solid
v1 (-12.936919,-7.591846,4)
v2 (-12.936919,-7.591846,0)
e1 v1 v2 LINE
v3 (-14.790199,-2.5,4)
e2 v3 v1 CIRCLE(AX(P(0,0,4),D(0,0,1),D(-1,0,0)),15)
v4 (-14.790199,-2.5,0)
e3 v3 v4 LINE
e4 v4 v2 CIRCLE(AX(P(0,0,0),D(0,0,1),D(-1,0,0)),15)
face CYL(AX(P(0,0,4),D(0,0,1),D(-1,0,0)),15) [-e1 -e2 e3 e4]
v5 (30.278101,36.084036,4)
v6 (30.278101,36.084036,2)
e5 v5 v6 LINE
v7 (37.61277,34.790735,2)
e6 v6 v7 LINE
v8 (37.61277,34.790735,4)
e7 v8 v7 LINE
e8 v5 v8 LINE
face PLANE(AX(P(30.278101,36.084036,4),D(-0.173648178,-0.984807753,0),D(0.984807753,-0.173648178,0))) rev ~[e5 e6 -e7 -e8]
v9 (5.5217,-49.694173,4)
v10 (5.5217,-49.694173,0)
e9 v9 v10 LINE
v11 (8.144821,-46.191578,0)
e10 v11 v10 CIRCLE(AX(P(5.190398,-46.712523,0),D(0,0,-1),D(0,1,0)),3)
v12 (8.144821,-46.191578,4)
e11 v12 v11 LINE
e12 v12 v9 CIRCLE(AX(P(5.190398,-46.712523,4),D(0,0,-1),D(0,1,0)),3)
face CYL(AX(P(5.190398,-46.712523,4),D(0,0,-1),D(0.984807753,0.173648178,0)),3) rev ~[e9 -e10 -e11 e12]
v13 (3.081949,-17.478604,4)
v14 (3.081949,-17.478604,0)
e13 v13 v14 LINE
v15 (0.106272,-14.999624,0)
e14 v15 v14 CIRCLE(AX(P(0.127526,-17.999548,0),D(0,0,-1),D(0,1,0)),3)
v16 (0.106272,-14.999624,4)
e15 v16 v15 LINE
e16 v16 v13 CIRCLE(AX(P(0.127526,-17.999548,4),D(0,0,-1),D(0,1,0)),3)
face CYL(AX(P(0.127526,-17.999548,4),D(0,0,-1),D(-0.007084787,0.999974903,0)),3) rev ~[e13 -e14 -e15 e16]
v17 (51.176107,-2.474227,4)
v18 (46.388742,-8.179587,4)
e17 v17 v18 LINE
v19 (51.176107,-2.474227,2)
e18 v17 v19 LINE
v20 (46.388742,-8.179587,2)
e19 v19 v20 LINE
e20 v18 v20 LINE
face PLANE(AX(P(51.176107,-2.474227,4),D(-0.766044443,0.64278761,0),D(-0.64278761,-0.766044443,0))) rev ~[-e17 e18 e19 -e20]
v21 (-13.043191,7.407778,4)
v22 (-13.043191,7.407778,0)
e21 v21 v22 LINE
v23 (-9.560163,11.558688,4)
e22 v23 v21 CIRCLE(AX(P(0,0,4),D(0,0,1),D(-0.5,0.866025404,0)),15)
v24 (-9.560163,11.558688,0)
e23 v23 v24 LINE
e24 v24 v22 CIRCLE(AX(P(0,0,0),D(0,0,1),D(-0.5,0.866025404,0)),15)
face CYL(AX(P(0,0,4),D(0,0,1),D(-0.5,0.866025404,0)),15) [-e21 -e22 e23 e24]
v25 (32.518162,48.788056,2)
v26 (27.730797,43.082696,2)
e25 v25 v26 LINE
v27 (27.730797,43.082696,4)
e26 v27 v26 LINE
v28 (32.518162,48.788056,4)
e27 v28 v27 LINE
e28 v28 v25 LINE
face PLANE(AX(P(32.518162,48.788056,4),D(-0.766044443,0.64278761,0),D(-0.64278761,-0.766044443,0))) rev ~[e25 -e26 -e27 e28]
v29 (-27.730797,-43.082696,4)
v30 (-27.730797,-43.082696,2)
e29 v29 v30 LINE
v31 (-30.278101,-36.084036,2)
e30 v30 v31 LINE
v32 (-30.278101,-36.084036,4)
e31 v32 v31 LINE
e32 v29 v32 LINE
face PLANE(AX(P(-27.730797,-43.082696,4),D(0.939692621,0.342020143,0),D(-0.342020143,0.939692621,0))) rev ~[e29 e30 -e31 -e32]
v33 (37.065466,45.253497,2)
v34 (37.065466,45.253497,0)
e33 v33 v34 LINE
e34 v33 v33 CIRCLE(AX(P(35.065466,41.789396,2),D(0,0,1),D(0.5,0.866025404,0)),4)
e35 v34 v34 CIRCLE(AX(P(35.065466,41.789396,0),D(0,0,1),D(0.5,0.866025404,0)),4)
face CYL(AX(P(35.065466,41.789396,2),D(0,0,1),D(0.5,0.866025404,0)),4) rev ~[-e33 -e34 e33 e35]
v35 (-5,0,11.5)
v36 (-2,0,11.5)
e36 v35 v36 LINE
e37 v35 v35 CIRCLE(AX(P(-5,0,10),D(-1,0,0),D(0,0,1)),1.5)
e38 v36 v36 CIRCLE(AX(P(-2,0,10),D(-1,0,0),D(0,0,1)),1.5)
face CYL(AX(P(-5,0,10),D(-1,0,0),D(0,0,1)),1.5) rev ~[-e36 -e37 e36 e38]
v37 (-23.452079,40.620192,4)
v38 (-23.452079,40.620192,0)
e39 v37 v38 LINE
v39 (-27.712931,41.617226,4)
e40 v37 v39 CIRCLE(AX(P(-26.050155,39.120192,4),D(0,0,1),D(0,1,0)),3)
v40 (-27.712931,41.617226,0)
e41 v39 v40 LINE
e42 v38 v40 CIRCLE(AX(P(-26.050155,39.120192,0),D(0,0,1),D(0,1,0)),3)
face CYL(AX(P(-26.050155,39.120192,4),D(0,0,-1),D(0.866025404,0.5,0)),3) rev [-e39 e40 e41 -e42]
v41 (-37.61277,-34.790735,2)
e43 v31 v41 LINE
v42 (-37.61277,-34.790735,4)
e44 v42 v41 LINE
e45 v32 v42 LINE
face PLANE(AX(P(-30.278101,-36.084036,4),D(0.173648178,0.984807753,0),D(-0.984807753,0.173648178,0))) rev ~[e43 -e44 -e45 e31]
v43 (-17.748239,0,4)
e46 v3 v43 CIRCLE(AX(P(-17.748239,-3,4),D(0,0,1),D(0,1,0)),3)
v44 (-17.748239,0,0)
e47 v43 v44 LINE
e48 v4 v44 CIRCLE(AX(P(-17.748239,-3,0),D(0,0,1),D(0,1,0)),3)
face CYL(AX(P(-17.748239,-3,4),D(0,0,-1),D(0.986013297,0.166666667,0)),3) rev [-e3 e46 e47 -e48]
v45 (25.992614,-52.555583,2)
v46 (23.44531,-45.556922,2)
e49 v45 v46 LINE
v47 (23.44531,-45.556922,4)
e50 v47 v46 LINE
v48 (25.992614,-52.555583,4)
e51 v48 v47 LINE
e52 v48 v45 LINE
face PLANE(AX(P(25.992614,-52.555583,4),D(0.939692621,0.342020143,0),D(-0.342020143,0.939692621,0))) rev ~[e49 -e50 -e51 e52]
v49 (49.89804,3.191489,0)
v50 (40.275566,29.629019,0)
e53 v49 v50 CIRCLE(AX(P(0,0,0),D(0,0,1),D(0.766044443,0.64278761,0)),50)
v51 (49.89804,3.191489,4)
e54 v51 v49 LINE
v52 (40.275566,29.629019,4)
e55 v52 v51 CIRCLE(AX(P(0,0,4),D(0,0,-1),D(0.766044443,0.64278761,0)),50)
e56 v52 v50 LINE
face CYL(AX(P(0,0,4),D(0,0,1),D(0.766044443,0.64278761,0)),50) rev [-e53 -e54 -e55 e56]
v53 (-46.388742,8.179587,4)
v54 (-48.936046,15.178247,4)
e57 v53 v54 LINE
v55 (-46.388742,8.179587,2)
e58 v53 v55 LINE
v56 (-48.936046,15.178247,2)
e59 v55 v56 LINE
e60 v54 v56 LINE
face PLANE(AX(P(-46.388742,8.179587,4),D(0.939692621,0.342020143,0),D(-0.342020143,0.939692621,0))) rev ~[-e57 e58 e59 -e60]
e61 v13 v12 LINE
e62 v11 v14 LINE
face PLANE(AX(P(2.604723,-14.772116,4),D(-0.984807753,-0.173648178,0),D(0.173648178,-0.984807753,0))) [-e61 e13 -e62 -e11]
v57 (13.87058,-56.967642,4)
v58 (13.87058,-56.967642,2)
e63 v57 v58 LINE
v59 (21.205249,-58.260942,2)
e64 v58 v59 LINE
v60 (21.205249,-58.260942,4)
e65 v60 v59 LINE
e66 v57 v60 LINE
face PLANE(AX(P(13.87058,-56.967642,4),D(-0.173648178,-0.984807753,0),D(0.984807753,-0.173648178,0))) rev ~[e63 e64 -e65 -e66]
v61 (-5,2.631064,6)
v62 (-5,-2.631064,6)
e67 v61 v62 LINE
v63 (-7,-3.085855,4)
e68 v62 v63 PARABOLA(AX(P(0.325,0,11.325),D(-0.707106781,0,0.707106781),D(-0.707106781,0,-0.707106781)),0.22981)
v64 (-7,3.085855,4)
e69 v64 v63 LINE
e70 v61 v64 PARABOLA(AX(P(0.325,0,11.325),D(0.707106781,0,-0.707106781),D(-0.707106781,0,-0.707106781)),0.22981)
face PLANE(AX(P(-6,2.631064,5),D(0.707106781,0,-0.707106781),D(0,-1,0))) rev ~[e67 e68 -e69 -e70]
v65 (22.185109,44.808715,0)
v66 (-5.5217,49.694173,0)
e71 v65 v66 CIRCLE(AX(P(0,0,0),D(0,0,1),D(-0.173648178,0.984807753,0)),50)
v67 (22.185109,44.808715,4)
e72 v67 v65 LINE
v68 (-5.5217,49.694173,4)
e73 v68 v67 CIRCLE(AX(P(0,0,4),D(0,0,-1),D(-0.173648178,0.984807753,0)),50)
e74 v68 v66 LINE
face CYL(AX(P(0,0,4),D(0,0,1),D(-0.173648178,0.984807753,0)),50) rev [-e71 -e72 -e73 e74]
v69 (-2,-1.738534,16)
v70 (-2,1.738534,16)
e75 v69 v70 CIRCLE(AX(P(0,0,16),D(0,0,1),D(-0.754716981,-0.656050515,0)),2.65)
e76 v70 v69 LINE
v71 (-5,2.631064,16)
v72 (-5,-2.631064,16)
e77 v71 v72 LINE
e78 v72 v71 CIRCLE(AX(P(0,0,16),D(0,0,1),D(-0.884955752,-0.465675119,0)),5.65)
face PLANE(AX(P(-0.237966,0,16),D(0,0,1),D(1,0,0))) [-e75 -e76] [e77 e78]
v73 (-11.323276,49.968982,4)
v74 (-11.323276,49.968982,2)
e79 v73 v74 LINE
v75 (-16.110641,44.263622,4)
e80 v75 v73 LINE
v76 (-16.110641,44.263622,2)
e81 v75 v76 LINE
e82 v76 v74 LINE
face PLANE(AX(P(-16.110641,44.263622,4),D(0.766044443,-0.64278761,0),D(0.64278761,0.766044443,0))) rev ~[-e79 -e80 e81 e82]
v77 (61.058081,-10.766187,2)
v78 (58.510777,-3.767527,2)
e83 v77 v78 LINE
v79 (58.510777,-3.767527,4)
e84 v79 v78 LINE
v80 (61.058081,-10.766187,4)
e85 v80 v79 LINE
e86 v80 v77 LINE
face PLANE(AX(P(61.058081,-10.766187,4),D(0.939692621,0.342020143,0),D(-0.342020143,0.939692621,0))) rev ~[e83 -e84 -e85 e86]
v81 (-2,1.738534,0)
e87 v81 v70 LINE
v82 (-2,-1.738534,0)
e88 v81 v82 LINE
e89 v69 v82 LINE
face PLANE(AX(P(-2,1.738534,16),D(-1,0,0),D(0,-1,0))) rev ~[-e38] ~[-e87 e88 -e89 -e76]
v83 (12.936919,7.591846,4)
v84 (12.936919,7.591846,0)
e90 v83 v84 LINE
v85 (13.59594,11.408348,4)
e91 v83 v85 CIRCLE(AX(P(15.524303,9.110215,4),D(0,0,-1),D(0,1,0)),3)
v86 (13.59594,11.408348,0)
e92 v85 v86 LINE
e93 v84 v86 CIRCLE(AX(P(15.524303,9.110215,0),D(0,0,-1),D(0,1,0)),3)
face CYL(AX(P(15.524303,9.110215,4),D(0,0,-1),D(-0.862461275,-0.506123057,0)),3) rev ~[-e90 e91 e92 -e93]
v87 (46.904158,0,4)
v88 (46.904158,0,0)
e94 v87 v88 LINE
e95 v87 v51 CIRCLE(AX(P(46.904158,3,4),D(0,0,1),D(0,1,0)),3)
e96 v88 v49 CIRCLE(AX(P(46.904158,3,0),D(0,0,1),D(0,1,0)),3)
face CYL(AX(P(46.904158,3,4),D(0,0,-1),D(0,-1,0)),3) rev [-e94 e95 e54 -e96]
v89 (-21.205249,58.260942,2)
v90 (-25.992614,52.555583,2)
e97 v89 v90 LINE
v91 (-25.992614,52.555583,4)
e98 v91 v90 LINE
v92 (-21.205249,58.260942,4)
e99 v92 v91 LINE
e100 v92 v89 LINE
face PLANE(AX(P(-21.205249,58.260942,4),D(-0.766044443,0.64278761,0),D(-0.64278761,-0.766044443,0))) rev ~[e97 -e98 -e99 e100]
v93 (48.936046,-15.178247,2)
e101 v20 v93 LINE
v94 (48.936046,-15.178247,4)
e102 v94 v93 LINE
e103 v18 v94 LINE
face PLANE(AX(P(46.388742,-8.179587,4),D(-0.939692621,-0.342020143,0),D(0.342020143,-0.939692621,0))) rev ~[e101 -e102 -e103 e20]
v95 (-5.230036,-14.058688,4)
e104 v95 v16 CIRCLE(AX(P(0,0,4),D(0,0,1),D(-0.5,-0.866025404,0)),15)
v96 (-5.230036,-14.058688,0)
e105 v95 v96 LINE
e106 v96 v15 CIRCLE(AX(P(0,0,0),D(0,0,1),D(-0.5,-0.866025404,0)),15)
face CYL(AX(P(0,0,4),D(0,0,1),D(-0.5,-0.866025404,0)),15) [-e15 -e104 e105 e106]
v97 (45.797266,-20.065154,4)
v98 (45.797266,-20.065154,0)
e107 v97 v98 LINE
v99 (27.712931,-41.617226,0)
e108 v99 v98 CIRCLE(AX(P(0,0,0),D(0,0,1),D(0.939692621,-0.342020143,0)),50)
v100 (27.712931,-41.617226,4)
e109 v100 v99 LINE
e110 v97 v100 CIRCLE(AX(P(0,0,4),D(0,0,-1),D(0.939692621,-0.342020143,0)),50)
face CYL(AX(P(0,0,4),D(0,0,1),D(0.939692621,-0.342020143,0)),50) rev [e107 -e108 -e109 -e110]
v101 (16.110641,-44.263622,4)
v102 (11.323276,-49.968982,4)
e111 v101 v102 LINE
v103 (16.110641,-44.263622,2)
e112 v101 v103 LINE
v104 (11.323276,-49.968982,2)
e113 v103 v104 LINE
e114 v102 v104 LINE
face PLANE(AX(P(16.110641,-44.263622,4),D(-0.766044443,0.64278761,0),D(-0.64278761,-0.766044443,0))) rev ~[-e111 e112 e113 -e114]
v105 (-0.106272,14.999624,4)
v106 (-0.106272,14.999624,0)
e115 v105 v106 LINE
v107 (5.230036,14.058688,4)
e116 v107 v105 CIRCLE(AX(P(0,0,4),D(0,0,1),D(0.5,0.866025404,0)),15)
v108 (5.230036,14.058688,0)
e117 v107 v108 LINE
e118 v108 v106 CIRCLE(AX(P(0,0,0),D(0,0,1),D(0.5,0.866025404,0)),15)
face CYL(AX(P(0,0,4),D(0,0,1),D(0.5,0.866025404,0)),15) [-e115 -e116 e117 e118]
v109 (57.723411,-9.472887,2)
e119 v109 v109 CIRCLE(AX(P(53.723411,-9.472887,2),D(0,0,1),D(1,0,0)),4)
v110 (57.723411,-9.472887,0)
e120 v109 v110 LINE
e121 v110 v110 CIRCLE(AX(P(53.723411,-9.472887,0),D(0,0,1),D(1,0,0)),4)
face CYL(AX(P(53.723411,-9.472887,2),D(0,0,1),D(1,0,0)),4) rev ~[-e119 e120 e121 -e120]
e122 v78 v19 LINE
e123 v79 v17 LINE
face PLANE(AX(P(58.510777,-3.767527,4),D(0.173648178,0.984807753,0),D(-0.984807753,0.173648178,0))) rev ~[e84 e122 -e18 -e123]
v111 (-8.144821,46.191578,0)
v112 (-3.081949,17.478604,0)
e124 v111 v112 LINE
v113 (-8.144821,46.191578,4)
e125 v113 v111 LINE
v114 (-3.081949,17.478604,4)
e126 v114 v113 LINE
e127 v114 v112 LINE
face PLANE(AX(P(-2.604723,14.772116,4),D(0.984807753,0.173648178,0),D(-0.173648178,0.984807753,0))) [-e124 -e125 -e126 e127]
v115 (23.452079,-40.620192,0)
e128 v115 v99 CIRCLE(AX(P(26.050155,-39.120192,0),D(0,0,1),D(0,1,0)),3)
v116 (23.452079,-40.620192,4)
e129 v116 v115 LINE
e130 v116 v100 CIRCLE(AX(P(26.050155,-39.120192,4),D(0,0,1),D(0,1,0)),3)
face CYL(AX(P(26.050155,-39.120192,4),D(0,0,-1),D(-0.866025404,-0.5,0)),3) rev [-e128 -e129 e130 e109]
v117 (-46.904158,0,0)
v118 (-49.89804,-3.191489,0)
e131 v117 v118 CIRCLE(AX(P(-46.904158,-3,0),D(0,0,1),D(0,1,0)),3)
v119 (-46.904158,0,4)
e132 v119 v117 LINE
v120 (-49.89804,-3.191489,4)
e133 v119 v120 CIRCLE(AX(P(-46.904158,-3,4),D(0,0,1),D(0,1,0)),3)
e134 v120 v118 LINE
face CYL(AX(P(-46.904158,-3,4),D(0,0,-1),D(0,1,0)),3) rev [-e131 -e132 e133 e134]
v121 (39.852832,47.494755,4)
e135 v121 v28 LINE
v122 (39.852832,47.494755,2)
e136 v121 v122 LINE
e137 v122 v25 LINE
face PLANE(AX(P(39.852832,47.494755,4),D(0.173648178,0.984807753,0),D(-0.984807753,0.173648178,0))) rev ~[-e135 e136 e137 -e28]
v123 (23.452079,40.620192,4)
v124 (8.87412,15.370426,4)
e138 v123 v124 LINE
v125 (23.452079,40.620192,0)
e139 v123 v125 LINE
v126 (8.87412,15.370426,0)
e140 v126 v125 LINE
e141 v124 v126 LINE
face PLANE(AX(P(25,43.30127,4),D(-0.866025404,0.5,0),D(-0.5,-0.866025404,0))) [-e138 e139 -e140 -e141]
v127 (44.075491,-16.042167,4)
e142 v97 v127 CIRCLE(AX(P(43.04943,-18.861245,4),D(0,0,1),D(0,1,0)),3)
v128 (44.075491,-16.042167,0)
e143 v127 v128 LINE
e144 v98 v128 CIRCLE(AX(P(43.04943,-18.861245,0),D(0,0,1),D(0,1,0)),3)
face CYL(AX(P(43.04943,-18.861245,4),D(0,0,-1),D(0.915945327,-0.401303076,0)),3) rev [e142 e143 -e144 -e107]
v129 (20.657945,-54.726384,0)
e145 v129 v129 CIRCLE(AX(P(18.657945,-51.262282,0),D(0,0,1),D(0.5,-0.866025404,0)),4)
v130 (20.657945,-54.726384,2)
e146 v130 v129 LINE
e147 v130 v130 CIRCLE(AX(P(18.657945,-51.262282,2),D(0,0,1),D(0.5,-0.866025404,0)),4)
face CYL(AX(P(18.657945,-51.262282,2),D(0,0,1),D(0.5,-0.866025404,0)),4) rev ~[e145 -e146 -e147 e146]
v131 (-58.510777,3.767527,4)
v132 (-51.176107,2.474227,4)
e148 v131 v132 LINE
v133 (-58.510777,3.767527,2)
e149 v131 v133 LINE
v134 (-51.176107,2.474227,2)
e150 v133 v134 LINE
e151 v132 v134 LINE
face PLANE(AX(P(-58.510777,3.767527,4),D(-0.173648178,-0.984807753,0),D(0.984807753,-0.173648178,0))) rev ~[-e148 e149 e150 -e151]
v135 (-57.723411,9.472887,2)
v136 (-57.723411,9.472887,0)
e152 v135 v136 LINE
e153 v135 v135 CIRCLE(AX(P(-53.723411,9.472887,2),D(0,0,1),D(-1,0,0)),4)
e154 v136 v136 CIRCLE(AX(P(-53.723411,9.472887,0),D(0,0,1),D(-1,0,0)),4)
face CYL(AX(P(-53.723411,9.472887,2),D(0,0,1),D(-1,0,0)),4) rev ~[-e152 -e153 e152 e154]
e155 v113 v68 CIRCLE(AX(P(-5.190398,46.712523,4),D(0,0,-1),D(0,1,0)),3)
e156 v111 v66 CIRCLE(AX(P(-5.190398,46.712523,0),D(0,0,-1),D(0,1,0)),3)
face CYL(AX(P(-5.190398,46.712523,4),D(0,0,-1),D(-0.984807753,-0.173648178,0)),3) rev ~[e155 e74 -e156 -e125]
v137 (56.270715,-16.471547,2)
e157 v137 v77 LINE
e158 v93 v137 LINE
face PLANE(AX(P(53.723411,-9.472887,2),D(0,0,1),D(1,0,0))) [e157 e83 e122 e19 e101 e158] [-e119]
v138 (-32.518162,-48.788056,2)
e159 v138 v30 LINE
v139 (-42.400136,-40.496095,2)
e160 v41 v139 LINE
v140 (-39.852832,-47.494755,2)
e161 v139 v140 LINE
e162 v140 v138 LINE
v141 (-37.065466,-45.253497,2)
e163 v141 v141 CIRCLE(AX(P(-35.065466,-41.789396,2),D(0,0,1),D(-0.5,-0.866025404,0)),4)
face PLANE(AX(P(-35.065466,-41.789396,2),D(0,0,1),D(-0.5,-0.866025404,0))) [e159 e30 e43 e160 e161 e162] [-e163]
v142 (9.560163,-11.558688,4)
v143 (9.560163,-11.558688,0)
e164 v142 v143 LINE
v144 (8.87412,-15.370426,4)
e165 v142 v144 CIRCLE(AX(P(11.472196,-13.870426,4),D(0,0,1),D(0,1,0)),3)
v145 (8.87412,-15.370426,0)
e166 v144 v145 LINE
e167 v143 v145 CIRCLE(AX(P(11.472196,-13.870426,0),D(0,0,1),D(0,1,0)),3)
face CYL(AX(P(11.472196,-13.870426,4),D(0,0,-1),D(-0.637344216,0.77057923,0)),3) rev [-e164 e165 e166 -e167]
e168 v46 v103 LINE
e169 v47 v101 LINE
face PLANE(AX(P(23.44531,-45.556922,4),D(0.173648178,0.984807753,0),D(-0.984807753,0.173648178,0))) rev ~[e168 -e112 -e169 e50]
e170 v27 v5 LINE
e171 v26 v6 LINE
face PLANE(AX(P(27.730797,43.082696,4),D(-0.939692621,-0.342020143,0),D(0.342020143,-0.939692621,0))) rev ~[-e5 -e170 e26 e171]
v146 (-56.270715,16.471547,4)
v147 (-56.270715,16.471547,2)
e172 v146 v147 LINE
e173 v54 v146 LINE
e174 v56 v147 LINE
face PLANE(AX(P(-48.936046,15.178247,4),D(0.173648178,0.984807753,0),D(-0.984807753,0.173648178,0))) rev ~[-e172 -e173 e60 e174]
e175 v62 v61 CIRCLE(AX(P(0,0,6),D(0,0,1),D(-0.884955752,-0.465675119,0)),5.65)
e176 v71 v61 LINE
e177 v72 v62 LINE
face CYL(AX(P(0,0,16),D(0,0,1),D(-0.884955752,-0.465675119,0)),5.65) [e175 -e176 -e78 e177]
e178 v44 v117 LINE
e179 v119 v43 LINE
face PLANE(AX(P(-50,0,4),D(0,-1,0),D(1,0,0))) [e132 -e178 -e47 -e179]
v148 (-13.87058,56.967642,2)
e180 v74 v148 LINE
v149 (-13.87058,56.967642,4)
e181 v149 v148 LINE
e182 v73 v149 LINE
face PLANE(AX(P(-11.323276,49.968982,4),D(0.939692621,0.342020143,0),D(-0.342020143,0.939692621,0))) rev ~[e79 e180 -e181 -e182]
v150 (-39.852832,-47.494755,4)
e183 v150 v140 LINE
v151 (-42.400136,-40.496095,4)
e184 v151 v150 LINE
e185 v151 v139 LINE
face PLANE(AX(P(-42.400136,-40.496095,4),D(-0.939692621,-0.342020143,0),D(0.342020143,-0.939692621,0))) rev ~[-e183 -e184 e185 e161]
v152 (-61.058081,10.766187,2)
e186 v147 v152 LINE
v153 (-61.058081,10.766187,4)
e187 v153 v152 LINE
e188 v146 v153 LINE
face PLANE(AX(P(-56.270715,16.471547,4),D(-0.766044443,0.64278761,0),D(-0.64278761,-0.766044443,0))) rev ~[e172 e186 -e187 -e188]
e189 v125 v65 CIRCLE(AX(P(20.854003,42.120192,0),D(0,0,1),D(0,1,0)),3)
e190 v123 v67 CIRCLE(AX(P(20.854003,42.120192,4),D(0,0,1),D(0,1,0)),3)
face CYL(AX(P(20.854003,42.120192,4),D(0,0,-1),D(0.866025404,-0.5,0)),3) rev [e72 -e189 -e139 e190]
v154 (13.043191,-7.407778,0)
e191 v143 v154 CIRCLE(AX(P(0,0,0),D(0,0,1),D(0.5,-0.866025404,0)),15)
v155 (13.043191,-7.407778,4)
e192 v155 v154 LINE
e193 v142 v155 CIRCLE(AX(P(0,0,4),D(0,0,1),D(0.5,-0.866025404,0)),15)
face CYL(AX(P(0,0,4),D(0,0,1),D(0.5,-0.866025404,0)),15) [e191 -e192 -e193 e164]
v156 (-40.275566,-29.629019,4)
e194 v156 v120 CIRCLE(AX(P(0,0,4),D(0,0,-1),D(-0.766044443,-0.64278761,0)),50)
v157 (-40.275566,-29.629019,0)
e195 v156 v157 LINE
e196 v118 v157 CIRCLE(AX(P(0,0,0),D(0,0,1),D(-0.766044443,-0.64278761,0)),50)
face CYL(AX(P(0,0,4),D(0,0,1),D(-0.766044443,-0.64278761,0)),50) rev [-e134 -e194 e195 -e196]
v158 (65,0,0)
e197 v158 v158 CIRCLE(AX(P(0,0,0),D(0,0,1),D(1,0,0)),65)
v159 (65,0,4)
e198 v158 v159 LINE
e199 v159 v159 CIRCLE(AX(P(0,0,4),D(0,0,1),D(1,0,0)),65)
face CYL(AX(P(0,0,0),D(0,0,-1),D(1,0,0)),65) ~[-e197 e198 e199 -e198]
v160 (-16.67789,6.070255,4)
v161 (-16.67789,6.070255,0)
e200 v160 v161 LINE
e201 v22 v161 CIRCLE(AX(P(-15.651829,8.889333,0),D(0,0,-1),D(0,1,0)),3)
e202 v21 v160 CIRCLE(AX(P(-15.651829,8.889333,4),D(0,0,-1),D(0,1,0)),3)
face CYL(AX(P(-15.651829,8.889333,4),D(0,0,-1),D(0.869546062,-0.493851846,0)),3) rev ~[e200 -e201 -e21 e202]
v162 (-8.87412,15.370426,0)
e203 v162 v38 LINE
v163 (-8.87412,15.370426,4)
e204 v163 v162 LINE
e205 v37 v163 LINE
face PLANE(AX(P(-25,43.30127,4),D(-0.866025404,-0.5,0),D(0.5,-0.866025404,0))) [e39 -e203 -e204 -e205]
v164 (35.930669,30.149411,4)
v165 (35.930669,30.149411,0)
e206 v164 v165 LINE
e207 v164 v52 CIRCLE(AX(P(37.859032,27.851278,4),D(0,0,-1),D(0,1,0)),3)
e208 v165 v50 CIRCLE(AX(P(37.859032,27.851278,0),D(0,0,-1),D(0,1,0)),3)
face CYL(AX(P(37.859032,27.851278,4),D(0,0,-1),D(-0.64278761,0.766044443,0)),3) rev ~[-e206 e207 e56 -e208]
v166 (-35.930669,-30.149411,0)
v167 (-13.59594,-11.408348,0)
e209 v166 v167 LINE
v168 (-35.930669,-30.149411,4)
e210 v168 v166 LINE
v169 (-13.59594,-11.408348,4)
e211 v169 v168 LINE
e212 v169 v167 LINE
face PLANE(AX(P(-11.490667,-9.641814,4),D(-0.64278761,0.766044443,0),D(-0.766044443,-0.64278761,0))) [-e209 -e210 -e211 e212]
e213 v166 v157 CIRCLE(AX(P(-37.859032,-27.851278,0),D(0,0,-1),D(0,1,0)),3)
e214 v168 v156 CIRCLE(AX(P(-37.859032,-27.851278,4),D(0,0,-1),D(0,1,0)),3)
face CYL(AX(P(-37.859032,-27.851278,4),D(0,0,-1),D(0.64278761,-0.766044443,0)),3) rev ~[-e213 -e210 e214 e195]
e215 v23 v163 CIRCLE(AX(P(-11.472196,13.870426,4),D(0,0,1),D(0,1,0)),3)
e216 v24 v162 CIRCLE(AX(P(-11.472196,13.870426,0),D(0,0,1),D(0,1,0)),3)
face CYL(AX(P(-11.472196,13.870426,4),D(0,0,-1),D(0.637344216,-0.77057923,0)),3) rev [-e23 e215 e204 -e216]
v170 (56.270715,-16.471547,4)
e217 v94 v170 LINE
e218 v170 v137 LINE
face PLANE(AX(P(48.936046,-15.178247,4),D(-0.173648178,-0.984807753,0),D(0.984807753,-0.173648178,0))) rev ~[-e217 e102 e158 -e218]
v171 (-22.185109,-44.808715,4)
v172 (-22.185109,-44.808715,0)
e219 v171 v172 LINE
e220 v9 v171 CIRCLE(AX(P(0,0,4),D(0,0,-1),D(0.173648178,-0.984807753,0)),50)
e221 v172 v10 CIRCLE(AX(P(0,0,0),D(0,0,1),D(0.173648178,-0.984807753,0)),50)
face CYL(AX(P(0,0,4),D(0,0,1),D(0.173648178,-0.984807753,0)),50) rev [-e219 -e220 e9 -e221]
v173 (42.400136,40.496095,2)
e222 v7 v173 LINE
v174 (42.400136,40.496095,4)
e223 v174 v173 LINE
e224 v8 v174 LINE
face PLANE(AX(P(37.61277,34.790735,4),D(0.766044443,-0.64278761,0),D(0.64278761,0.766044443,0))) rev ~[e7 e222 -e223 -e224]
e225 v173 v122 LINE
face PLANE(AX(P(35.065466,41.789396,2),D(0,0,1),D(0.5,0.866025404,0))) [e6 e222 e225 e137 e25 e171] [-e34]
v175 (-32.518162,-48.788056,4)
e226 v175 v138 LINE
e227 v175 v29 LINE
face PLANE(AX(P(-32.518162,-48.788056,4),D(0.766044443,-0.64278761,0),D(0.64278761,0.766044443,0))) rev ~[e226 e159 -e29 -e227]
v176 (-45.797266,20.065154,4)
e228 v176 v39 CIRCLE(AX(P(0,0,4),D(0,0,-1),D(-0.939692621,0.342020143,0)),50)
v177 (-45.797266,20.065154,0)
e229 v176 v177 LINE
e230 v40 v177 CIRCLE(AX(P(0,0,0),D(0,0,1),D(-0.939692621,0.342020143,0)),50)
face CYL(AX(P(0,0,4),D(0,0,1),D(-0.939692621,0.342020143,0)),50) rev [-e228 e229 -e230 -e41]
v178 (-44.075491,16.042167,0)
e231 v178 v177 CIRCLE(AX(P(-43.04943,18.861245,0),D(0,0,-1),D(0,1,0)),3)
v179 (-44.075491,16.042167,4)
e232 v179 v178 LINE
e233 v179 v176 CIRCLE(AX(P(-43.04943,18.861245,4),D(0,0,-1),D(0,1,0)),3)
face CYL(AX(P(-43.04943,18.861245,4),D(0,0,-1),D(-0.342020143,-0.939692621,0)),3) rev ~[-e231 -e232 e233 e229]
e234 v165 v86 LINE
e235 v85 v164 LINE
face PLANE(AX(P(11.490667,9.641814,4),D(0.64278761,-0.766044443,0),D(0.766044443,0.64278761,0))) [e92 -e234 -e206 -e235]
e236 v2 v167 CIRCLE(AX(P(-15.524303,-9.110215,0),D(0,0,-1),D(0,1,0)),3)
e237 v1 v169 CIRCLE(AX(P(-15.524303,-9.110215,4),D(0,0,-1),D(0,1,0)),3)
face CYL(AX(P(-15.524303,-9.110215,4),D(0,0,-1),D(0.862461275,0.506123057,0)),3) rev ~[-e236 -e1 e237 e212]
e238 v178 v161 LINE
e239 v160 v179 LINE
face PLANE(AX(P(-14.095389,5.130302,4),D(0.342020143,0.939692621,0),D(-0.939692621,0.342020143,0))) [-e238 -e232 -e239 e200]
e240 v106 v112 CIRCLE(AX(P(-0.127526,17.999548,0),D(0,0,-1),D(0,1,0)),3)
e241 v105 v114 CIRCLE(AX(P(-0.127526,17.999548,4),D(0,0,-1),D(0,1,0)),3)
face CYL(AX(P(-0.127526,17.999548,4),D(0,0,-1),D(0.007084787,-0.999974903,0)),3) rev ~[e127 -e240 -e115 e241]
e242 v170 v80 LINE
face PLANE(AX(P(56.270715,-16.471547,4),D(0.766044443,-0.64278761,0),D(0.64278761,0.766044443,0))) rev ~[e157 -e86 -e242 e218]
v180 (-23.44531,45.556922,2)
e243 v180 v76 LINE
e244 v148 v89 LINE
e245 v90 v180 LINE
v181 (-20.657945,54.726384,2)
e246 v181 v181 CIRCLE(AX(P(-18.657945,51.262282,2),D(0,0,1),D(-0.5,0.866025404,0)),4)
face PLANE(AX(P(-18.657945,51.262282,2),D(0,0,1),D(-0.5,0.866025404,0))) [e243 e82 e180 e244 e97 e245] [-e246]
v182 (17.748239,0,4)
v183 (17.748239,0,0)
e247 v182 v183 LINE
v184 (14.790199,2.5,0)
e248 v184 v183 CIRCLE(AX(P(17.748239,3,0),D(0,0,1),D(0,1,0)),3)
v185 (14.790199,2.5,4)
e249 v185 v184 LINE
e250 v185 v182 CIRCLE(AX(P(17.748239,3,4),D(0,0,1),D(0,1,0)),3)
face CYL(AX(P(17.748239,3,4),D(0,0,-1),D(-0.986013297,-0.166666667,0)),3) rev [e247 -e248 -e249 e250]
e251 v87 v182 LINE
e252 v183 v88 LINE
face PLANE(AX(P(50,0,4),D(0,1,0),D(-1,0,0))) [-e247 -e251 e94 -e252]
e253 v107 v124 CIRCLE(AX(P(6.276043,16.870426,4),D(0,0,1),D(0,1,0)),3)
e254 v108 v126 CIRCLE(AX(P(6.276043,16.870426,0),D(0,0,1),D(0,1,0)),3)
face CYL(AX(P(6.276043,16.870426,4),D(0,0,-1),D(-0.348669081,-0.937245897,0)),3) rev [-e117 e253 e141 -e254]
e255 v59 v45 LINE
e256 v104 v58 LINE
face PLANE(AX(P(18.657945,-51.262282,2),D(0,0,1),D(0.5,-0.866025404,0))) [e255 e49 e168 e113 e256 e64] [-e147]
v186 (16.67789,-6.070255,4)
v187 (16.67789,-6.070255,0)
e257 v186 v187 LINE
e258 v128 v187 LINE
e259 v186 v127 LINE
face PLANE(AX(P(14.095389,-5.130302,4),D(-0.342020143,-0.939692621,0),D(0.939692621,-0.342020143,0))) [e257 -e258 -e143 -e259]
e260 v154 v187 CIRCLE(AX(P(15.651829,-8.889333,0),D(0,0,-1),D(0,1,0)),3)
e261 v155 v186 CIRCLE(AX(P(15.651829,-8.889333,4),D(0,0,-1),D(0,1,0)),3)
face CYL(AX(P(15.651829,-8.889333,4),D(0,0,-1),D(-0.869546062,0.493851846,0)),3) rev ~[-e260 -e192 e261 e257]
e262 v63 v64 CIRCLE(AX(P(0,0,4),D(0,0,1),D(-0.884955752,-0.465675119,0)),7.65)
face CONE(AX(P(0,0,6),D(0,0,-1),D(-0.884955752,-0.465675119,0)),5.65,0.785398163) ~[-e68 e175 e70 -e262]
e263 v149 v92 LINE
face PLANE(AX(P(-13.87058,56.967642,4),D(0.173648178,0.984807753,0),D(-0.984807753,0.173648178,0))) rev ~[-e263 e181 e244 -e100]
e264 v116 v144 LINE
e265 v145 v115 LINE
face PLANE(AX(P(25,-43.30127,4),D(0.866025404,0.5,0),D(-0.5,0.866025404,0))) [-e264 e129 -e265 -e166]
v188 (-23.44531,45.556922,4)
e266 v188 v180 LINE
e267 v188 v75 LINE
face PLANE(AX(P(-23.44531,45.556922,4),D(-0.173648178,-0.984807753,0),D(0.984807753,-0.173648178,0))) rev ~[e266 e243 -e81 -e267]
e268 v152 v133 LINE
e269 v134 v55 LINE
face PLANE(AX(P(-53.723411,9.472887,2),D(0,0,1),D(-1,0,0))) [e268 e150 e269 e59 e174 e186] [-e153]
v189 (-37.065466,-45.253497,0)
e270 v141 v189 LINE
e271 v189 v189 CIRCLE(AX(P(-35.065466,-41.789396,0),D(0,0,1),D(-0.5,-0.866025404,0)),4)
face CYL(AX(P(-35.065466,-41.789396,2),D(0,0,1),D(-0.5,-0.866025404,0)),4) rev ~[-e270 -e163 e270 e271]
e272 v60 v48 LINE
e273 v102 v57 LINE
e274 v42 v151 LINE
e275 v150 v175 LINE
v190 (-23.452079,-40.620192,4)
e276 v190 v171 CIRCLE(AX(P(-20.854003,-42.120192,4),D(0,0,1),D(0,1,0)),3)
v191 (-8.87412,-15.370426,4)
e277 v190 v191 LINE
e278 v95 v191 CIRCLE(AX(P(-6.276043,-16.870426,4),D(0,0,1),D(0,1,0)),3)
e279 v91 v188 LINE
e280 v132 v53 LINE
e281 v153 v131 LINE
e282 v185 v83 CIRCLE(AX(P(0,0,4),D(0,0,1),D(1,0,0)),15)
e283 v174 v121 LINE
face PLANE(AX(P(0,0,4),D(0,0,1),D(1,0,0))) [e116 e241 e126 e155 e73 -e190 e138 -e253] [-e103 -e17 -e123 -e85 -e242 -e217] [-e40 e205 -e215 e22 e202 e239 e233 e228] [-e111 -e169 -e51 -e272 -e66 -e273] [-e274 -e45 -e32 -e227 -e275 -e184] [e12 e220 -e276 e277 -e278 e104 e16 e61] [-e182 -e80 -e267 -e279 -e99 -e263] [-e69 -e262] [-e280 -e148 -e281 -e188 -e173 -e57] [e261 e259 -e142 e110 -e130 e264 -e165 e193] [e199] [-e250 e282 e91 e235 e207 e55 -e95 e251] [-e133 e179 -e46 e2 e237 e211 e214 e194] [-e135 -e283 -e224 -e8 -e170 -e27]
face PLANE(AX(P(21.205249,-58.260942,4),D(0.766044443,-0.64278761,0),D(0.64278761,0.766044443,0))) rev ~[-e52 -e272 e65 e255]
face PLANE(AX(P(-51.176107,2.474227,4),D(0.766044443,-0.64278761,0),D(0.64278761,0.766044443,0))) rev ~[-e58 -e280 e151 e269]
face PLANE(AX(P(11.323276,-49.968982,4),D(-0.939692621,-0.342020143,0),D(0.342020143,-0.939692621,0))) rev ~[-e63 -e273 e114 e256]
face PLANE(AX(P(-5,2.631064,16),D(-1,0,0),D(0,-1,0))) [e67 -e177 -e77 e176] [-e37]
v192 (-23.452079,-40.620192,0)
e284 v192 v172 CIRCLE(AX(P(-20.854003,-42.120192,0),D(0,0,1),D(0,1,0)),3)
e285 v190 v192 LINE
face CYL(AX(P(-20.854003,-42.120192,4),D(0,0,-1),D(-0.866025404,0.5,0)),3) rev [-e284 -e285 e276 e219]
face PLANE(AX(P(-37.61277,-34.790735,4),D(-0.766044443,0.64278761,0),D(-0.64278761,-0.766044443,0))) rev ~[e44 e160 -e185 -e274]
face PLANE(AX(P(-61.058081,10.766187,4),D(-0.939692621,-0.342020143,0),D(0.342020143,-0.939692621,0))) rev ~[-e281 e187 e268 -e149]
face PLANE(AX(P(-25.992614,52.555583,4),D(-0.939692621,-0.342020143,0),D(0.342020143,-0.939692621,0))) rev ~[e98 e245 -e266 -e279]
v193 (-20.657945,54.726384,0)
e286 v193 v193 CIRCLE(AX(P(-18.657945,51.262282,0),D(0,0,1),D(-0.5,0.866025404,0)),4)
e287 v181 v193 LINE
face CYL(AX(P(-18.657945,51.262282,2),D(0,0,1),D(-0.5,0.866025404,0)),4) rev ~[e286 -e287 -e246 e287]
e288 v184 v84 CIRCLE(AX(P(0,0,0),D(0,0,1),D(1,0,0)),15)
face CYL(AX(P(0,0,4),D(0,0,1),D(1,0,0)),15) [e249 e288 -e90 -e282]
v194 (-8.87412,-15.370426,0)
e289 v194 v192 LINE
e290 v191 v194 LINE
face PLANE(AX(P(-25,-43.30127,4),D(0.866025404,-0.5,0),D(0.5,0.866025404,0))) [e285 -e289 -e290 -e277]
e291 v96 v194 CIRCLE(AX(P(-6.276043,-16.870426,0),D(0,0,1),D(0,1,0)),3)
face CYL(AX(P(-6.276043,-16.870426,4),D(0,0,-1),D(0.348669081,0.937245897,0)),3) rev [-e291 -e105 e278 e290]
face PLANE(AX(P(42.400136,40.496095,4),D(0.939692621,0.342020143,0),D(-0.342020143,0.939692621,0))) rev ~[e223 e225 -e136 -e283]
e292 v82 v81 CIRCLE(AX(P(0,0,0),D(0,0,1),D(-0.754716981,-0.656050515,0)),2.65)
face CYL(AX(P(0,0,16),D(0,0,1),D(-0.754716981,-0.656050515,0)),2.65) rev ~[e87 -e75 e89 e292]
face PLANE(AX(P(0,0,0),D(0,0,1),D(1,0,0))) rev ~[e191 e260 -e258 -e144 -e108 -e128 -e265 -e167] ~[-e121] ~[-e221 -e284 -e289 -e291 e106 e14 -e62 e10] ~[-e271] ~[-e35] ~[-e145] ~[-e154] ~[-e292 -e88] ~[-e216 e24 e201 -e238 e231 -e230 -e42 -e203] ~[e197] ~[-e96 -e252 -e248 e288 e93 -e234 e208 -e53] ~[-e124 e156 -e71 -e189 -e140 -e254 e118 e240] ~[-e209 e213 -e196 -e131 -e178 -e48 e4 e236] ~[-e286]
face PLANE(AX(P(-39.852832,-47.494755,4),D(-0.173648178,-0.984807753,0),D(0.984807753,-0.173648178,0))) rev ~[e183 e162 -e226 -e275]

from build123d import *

# Parameters (mm, degrees)
ESQUISSE1_R                        = 65
BOSS_EXTRU_1_DEPTH                 = 4
ENL_V_MAT_EXTRU_1_DEPTH            = 93.010868923
BOSS_EXTRU_2_START                 = 12
BOSS_EXTRU_2_DEPTH                 = 12
ENL_V_MAT_EXTRU_2_REACH            = 98.856
ESQUISSE4_R                        = 1.5
CHANFREIN1_SIZE                    = 2
ENL_V_MAT_EXTRU_3_REACH            = 94.704
CONG_1_R                           = 3
ENL_V_MAT_EXTRU_4_DEPTH            = 2
ENL_V_MAT_EXTRU_5_REACH            = 94.984
ESQUISSE8_R                        = 4
R_P_TITION_CIRCULAIRE1_COUNT       = 6
CONG_1_OF_R_P_TITION_CIRCULAIRE1_R = 3


with BuildPart() as part:
    # Esquisse1 → Boss.-Extru.1 (new body)
    with BuildSketch(Plane.XY):
        Circle(ESQUISSE1_R)
    extrude(amount=BOSS_EXTRU_1_DEPTH)

    # Esquisse2 → Enlèv. mat.-Extru.1 (cut, through all)
    with BuildSketch(Plane.XY.offset(4)):
        with BuildLine():
            Line((-2, 1.738533865), (-2, -1.738533865))
            ThreePointArc((-2, -1.738533865), (2.65, 0), (-2, 1.738533865))
        make_face()
    extrude(amount=-ENL_V_MAT_EXTRU_1_DEPTH, mode=Mode.SUBTRACT)

    # Esquisse3 → Boss.-Extru.2 (add)
    with BuildSketch(Plane.XY.offset(4).offset(BOSS_EXTRU_2_START)):
        with BuildLine():
            Line((-5, 2.631064423), (-5, -2.631064423))
            ThreePointArc((-5, -2.631064423), (5.65, 0), (-5, 2.631064423))
        make_face()
        with BuildLine():
            Line((-2, 1.738533865), (-2, -1.738533865))
            ThreePointArc((-2, -1.738533865), (2.65, 0), (-2, 1.738533865))
        make_face(mode=Mode.SUBTRACT)
    extrude(amount=-BOSS_EXTRU_2_DEPTH)

    # Esquisse4 → Enlèv. mat.-Extru.2 (cut, up to next)
    with BuildSketch(Plane.ZY.offset(5), mode=Mode.PRIVATE) as enl_v_mat_extru_2_sk1:
        with Locations((10, 0)):
            Circle(ESQUISSE4_R)
    enl_v_mat_extru_2_tool1 = extrude(enl_v_mat_extru_2_sk1.sketch, amount=-ENL_V_MAT_EXTRU_2_REACH, mode=Mode.PRIVATE) & part.part
    add(enl_v_mat_extru_2_tool1.solids().sort_by_distance((-5, 0, 10))[0], mode=Mode.SUBTRACT)

    # Chanfrein1
    chanfrein1_edges = [part.edges().sort_by_distance(p)[0] for p in [
        (-5, 0, 4),
        (5.65, 0, 4),
    ]]
    chamfer(chanfrein1_edges, length=CHANFREIN1_SIZE)

    # Esquisse5 → Enlèv. mat.-Extru.3 (cut, up to next)
    with BuildSketch(Plane.XY.offset(4), mode=Mode.PRIVATE) as enl_v_mat_extru_3_sk1:
        with BuildLine():
            Line((14.095389312, -5.13030215), (46.984631039, -17.101007166))
            ThreePointArc((46.984631039, -17.101007166), (38.302222156, -32.139380484), (25, -43.301270189))
            Line((25, -43.301270189), (7.5, -12.990381057))
            ThreePointArc((7.5, -12.990381057), (11.490666647, -9.641814145), (14.095389312, -5.13030215))
        make_face()
    enl_v_mat_extru_3_tool1 = extrude(enl_v_mat_extru_3_sk1.sketch, amount=-ENL_V_MAT_EXTRU_3_REACH, mode=Mode.PRIVATE) & part.part
    enl_v_mat_extru_3 = enl_v_mat_extru_3_tool1.solids().sort_by_distance((26.751521, -22.447191, 4))[0]
    add(enl_v_mat_extru_3, mode=Mode.SUBTRACT)

    # Congé1
    cong_1_edges = [part.edges().sort_by_distance(p)[0] for p in [
        (25, -43.301270189, 2),
        (46.984631039, -17.101007166, 2),
        (7.5, -12.990381057, 2),
        (14.095389312, -5.13030215, 2),
    ]]
    fillet(cong_1_edges, radius=CONG_1_R)

    # Esquisse7 → Enlèv. mat.-Extru.4 (cut)
    with BuildSketch(Plane.XY.offset(4)):
        Polygon((61.058080687, -10.766187015), (58.510776745, -3.767526956), (51.176107371, -2.47422685), (46.388741937, -8.179586805), (48.936045879, -15.178246864), (56.270715253, -16.47154697), align=None)
    enl_v_mat_extru_4 = extrude(amount=-ENL_V_MAT_EXTRU_4_DEPTH, mode=Mode.SUBTRACT)

    # Esquisse8 → Enlèv. mat.-Extru.5 (cut, up to next)
    with BuildSketch(Plane.XY.offset(2), mode=Mode.PRIVATE) as enl_v_mat_extru_5_sk1:
        with Locations((53.723411312, -9.47288691)):
            Circle(ESQUISSE8_R)
    enl_v_mat_extru_5_tool1 = extrude(enl_v_mat_extru_5_sk1.sketch, amount=-ENL_V_MAT_EXTRU_5_REACH, mode=Mode.PRIVATE) & part.part
    enl_v_mat_extru_5 = enl_v_mat_extru_5_tool1.solids().sort_by_distance((53.723411, -9.472887, 2))[0]
    add(enl_v_mat_extru_5, mode=Mode.SUBTRACT)

    # Répétition circulaire1: Enlèv. mat.-Extru.3, Enlèv. mat.-Extru.4, Enlèv. mat.-Extru.5 ×6 about axis
    r_p_tition_circulaire1_axis = Axis((0, 0, -0.8), (0, 0, 1))
    add([enl_v_mat_extru_3.rotate(r_p_tition_circulaire1_axis, i * 360 / R_P_TITION_CIRCULAIRE1_COUNT) for i in range(1, R_P_TITION_CIRCULAIRE1_COUNT)], mode=Mode.SUBTRACT)
    add([enl_v_mat_extru_4.rotate(r_p_tition_circulaire1_axis, i * 360 / R_P_TITION_CIRCULAIRE1_COUNT) for i in range(1, R_P_TITION_CIRCULAIRE1_COUNT)], mode=Mode.SUBTRACT)
    add([enl_v_mat_extru_5.rotate(r_p_tition_circulaire1_axis, i * 360 / R_P_TITION_CIRCULAIRE1_COUNT) for i in range(1, R_P_TITION_CIRCULAIRE1_COUNT)], mode=Mode.SUBTRACT)

    # Congé1 of Répétition circulaire1
    cong_1_of_r_p_tition_circulaire1_edges = [part.edges().sort_by_distance(p)[0] for p in [
        (50, 0, 2),
        (38.302222156, 32.139380484, 2),
        (15, 0, 2),
        (11.490666647, 9.641814145, 2),
        (25, 43.301270189, 2),
        (-8.682408883, 49.240387651, 2),
        (7.5, 12.990381057, 2),
        (-2.604722665, 14.772116295, 2),
        (-25, 43.301270189, 2),
        (-46.984631039, 17.101007166, 2),
        (-7.5, 12.990381057, 2),
        (-14.095389312, 5.13030215, 2),
        (-50, 0, 2),
        (-38.302222156, -32.139380484, 2),
        (-15, 0, 2),
        (-11.490666647, -9.641814145, 2),
        (-25, -43.301270189, 2),
        (8.682408883, -49.240387651, 2),
        (-7.5, -12.990381057, 2),
        (2.604722665, -14.772116295, 2),
    ]]
    fillet(cong_1_of_r_p_tition_circulaire1_edges, radius=CONG_1_OF_R_P_TITION_CIRCULAIRE1_R)


solid = part.part
